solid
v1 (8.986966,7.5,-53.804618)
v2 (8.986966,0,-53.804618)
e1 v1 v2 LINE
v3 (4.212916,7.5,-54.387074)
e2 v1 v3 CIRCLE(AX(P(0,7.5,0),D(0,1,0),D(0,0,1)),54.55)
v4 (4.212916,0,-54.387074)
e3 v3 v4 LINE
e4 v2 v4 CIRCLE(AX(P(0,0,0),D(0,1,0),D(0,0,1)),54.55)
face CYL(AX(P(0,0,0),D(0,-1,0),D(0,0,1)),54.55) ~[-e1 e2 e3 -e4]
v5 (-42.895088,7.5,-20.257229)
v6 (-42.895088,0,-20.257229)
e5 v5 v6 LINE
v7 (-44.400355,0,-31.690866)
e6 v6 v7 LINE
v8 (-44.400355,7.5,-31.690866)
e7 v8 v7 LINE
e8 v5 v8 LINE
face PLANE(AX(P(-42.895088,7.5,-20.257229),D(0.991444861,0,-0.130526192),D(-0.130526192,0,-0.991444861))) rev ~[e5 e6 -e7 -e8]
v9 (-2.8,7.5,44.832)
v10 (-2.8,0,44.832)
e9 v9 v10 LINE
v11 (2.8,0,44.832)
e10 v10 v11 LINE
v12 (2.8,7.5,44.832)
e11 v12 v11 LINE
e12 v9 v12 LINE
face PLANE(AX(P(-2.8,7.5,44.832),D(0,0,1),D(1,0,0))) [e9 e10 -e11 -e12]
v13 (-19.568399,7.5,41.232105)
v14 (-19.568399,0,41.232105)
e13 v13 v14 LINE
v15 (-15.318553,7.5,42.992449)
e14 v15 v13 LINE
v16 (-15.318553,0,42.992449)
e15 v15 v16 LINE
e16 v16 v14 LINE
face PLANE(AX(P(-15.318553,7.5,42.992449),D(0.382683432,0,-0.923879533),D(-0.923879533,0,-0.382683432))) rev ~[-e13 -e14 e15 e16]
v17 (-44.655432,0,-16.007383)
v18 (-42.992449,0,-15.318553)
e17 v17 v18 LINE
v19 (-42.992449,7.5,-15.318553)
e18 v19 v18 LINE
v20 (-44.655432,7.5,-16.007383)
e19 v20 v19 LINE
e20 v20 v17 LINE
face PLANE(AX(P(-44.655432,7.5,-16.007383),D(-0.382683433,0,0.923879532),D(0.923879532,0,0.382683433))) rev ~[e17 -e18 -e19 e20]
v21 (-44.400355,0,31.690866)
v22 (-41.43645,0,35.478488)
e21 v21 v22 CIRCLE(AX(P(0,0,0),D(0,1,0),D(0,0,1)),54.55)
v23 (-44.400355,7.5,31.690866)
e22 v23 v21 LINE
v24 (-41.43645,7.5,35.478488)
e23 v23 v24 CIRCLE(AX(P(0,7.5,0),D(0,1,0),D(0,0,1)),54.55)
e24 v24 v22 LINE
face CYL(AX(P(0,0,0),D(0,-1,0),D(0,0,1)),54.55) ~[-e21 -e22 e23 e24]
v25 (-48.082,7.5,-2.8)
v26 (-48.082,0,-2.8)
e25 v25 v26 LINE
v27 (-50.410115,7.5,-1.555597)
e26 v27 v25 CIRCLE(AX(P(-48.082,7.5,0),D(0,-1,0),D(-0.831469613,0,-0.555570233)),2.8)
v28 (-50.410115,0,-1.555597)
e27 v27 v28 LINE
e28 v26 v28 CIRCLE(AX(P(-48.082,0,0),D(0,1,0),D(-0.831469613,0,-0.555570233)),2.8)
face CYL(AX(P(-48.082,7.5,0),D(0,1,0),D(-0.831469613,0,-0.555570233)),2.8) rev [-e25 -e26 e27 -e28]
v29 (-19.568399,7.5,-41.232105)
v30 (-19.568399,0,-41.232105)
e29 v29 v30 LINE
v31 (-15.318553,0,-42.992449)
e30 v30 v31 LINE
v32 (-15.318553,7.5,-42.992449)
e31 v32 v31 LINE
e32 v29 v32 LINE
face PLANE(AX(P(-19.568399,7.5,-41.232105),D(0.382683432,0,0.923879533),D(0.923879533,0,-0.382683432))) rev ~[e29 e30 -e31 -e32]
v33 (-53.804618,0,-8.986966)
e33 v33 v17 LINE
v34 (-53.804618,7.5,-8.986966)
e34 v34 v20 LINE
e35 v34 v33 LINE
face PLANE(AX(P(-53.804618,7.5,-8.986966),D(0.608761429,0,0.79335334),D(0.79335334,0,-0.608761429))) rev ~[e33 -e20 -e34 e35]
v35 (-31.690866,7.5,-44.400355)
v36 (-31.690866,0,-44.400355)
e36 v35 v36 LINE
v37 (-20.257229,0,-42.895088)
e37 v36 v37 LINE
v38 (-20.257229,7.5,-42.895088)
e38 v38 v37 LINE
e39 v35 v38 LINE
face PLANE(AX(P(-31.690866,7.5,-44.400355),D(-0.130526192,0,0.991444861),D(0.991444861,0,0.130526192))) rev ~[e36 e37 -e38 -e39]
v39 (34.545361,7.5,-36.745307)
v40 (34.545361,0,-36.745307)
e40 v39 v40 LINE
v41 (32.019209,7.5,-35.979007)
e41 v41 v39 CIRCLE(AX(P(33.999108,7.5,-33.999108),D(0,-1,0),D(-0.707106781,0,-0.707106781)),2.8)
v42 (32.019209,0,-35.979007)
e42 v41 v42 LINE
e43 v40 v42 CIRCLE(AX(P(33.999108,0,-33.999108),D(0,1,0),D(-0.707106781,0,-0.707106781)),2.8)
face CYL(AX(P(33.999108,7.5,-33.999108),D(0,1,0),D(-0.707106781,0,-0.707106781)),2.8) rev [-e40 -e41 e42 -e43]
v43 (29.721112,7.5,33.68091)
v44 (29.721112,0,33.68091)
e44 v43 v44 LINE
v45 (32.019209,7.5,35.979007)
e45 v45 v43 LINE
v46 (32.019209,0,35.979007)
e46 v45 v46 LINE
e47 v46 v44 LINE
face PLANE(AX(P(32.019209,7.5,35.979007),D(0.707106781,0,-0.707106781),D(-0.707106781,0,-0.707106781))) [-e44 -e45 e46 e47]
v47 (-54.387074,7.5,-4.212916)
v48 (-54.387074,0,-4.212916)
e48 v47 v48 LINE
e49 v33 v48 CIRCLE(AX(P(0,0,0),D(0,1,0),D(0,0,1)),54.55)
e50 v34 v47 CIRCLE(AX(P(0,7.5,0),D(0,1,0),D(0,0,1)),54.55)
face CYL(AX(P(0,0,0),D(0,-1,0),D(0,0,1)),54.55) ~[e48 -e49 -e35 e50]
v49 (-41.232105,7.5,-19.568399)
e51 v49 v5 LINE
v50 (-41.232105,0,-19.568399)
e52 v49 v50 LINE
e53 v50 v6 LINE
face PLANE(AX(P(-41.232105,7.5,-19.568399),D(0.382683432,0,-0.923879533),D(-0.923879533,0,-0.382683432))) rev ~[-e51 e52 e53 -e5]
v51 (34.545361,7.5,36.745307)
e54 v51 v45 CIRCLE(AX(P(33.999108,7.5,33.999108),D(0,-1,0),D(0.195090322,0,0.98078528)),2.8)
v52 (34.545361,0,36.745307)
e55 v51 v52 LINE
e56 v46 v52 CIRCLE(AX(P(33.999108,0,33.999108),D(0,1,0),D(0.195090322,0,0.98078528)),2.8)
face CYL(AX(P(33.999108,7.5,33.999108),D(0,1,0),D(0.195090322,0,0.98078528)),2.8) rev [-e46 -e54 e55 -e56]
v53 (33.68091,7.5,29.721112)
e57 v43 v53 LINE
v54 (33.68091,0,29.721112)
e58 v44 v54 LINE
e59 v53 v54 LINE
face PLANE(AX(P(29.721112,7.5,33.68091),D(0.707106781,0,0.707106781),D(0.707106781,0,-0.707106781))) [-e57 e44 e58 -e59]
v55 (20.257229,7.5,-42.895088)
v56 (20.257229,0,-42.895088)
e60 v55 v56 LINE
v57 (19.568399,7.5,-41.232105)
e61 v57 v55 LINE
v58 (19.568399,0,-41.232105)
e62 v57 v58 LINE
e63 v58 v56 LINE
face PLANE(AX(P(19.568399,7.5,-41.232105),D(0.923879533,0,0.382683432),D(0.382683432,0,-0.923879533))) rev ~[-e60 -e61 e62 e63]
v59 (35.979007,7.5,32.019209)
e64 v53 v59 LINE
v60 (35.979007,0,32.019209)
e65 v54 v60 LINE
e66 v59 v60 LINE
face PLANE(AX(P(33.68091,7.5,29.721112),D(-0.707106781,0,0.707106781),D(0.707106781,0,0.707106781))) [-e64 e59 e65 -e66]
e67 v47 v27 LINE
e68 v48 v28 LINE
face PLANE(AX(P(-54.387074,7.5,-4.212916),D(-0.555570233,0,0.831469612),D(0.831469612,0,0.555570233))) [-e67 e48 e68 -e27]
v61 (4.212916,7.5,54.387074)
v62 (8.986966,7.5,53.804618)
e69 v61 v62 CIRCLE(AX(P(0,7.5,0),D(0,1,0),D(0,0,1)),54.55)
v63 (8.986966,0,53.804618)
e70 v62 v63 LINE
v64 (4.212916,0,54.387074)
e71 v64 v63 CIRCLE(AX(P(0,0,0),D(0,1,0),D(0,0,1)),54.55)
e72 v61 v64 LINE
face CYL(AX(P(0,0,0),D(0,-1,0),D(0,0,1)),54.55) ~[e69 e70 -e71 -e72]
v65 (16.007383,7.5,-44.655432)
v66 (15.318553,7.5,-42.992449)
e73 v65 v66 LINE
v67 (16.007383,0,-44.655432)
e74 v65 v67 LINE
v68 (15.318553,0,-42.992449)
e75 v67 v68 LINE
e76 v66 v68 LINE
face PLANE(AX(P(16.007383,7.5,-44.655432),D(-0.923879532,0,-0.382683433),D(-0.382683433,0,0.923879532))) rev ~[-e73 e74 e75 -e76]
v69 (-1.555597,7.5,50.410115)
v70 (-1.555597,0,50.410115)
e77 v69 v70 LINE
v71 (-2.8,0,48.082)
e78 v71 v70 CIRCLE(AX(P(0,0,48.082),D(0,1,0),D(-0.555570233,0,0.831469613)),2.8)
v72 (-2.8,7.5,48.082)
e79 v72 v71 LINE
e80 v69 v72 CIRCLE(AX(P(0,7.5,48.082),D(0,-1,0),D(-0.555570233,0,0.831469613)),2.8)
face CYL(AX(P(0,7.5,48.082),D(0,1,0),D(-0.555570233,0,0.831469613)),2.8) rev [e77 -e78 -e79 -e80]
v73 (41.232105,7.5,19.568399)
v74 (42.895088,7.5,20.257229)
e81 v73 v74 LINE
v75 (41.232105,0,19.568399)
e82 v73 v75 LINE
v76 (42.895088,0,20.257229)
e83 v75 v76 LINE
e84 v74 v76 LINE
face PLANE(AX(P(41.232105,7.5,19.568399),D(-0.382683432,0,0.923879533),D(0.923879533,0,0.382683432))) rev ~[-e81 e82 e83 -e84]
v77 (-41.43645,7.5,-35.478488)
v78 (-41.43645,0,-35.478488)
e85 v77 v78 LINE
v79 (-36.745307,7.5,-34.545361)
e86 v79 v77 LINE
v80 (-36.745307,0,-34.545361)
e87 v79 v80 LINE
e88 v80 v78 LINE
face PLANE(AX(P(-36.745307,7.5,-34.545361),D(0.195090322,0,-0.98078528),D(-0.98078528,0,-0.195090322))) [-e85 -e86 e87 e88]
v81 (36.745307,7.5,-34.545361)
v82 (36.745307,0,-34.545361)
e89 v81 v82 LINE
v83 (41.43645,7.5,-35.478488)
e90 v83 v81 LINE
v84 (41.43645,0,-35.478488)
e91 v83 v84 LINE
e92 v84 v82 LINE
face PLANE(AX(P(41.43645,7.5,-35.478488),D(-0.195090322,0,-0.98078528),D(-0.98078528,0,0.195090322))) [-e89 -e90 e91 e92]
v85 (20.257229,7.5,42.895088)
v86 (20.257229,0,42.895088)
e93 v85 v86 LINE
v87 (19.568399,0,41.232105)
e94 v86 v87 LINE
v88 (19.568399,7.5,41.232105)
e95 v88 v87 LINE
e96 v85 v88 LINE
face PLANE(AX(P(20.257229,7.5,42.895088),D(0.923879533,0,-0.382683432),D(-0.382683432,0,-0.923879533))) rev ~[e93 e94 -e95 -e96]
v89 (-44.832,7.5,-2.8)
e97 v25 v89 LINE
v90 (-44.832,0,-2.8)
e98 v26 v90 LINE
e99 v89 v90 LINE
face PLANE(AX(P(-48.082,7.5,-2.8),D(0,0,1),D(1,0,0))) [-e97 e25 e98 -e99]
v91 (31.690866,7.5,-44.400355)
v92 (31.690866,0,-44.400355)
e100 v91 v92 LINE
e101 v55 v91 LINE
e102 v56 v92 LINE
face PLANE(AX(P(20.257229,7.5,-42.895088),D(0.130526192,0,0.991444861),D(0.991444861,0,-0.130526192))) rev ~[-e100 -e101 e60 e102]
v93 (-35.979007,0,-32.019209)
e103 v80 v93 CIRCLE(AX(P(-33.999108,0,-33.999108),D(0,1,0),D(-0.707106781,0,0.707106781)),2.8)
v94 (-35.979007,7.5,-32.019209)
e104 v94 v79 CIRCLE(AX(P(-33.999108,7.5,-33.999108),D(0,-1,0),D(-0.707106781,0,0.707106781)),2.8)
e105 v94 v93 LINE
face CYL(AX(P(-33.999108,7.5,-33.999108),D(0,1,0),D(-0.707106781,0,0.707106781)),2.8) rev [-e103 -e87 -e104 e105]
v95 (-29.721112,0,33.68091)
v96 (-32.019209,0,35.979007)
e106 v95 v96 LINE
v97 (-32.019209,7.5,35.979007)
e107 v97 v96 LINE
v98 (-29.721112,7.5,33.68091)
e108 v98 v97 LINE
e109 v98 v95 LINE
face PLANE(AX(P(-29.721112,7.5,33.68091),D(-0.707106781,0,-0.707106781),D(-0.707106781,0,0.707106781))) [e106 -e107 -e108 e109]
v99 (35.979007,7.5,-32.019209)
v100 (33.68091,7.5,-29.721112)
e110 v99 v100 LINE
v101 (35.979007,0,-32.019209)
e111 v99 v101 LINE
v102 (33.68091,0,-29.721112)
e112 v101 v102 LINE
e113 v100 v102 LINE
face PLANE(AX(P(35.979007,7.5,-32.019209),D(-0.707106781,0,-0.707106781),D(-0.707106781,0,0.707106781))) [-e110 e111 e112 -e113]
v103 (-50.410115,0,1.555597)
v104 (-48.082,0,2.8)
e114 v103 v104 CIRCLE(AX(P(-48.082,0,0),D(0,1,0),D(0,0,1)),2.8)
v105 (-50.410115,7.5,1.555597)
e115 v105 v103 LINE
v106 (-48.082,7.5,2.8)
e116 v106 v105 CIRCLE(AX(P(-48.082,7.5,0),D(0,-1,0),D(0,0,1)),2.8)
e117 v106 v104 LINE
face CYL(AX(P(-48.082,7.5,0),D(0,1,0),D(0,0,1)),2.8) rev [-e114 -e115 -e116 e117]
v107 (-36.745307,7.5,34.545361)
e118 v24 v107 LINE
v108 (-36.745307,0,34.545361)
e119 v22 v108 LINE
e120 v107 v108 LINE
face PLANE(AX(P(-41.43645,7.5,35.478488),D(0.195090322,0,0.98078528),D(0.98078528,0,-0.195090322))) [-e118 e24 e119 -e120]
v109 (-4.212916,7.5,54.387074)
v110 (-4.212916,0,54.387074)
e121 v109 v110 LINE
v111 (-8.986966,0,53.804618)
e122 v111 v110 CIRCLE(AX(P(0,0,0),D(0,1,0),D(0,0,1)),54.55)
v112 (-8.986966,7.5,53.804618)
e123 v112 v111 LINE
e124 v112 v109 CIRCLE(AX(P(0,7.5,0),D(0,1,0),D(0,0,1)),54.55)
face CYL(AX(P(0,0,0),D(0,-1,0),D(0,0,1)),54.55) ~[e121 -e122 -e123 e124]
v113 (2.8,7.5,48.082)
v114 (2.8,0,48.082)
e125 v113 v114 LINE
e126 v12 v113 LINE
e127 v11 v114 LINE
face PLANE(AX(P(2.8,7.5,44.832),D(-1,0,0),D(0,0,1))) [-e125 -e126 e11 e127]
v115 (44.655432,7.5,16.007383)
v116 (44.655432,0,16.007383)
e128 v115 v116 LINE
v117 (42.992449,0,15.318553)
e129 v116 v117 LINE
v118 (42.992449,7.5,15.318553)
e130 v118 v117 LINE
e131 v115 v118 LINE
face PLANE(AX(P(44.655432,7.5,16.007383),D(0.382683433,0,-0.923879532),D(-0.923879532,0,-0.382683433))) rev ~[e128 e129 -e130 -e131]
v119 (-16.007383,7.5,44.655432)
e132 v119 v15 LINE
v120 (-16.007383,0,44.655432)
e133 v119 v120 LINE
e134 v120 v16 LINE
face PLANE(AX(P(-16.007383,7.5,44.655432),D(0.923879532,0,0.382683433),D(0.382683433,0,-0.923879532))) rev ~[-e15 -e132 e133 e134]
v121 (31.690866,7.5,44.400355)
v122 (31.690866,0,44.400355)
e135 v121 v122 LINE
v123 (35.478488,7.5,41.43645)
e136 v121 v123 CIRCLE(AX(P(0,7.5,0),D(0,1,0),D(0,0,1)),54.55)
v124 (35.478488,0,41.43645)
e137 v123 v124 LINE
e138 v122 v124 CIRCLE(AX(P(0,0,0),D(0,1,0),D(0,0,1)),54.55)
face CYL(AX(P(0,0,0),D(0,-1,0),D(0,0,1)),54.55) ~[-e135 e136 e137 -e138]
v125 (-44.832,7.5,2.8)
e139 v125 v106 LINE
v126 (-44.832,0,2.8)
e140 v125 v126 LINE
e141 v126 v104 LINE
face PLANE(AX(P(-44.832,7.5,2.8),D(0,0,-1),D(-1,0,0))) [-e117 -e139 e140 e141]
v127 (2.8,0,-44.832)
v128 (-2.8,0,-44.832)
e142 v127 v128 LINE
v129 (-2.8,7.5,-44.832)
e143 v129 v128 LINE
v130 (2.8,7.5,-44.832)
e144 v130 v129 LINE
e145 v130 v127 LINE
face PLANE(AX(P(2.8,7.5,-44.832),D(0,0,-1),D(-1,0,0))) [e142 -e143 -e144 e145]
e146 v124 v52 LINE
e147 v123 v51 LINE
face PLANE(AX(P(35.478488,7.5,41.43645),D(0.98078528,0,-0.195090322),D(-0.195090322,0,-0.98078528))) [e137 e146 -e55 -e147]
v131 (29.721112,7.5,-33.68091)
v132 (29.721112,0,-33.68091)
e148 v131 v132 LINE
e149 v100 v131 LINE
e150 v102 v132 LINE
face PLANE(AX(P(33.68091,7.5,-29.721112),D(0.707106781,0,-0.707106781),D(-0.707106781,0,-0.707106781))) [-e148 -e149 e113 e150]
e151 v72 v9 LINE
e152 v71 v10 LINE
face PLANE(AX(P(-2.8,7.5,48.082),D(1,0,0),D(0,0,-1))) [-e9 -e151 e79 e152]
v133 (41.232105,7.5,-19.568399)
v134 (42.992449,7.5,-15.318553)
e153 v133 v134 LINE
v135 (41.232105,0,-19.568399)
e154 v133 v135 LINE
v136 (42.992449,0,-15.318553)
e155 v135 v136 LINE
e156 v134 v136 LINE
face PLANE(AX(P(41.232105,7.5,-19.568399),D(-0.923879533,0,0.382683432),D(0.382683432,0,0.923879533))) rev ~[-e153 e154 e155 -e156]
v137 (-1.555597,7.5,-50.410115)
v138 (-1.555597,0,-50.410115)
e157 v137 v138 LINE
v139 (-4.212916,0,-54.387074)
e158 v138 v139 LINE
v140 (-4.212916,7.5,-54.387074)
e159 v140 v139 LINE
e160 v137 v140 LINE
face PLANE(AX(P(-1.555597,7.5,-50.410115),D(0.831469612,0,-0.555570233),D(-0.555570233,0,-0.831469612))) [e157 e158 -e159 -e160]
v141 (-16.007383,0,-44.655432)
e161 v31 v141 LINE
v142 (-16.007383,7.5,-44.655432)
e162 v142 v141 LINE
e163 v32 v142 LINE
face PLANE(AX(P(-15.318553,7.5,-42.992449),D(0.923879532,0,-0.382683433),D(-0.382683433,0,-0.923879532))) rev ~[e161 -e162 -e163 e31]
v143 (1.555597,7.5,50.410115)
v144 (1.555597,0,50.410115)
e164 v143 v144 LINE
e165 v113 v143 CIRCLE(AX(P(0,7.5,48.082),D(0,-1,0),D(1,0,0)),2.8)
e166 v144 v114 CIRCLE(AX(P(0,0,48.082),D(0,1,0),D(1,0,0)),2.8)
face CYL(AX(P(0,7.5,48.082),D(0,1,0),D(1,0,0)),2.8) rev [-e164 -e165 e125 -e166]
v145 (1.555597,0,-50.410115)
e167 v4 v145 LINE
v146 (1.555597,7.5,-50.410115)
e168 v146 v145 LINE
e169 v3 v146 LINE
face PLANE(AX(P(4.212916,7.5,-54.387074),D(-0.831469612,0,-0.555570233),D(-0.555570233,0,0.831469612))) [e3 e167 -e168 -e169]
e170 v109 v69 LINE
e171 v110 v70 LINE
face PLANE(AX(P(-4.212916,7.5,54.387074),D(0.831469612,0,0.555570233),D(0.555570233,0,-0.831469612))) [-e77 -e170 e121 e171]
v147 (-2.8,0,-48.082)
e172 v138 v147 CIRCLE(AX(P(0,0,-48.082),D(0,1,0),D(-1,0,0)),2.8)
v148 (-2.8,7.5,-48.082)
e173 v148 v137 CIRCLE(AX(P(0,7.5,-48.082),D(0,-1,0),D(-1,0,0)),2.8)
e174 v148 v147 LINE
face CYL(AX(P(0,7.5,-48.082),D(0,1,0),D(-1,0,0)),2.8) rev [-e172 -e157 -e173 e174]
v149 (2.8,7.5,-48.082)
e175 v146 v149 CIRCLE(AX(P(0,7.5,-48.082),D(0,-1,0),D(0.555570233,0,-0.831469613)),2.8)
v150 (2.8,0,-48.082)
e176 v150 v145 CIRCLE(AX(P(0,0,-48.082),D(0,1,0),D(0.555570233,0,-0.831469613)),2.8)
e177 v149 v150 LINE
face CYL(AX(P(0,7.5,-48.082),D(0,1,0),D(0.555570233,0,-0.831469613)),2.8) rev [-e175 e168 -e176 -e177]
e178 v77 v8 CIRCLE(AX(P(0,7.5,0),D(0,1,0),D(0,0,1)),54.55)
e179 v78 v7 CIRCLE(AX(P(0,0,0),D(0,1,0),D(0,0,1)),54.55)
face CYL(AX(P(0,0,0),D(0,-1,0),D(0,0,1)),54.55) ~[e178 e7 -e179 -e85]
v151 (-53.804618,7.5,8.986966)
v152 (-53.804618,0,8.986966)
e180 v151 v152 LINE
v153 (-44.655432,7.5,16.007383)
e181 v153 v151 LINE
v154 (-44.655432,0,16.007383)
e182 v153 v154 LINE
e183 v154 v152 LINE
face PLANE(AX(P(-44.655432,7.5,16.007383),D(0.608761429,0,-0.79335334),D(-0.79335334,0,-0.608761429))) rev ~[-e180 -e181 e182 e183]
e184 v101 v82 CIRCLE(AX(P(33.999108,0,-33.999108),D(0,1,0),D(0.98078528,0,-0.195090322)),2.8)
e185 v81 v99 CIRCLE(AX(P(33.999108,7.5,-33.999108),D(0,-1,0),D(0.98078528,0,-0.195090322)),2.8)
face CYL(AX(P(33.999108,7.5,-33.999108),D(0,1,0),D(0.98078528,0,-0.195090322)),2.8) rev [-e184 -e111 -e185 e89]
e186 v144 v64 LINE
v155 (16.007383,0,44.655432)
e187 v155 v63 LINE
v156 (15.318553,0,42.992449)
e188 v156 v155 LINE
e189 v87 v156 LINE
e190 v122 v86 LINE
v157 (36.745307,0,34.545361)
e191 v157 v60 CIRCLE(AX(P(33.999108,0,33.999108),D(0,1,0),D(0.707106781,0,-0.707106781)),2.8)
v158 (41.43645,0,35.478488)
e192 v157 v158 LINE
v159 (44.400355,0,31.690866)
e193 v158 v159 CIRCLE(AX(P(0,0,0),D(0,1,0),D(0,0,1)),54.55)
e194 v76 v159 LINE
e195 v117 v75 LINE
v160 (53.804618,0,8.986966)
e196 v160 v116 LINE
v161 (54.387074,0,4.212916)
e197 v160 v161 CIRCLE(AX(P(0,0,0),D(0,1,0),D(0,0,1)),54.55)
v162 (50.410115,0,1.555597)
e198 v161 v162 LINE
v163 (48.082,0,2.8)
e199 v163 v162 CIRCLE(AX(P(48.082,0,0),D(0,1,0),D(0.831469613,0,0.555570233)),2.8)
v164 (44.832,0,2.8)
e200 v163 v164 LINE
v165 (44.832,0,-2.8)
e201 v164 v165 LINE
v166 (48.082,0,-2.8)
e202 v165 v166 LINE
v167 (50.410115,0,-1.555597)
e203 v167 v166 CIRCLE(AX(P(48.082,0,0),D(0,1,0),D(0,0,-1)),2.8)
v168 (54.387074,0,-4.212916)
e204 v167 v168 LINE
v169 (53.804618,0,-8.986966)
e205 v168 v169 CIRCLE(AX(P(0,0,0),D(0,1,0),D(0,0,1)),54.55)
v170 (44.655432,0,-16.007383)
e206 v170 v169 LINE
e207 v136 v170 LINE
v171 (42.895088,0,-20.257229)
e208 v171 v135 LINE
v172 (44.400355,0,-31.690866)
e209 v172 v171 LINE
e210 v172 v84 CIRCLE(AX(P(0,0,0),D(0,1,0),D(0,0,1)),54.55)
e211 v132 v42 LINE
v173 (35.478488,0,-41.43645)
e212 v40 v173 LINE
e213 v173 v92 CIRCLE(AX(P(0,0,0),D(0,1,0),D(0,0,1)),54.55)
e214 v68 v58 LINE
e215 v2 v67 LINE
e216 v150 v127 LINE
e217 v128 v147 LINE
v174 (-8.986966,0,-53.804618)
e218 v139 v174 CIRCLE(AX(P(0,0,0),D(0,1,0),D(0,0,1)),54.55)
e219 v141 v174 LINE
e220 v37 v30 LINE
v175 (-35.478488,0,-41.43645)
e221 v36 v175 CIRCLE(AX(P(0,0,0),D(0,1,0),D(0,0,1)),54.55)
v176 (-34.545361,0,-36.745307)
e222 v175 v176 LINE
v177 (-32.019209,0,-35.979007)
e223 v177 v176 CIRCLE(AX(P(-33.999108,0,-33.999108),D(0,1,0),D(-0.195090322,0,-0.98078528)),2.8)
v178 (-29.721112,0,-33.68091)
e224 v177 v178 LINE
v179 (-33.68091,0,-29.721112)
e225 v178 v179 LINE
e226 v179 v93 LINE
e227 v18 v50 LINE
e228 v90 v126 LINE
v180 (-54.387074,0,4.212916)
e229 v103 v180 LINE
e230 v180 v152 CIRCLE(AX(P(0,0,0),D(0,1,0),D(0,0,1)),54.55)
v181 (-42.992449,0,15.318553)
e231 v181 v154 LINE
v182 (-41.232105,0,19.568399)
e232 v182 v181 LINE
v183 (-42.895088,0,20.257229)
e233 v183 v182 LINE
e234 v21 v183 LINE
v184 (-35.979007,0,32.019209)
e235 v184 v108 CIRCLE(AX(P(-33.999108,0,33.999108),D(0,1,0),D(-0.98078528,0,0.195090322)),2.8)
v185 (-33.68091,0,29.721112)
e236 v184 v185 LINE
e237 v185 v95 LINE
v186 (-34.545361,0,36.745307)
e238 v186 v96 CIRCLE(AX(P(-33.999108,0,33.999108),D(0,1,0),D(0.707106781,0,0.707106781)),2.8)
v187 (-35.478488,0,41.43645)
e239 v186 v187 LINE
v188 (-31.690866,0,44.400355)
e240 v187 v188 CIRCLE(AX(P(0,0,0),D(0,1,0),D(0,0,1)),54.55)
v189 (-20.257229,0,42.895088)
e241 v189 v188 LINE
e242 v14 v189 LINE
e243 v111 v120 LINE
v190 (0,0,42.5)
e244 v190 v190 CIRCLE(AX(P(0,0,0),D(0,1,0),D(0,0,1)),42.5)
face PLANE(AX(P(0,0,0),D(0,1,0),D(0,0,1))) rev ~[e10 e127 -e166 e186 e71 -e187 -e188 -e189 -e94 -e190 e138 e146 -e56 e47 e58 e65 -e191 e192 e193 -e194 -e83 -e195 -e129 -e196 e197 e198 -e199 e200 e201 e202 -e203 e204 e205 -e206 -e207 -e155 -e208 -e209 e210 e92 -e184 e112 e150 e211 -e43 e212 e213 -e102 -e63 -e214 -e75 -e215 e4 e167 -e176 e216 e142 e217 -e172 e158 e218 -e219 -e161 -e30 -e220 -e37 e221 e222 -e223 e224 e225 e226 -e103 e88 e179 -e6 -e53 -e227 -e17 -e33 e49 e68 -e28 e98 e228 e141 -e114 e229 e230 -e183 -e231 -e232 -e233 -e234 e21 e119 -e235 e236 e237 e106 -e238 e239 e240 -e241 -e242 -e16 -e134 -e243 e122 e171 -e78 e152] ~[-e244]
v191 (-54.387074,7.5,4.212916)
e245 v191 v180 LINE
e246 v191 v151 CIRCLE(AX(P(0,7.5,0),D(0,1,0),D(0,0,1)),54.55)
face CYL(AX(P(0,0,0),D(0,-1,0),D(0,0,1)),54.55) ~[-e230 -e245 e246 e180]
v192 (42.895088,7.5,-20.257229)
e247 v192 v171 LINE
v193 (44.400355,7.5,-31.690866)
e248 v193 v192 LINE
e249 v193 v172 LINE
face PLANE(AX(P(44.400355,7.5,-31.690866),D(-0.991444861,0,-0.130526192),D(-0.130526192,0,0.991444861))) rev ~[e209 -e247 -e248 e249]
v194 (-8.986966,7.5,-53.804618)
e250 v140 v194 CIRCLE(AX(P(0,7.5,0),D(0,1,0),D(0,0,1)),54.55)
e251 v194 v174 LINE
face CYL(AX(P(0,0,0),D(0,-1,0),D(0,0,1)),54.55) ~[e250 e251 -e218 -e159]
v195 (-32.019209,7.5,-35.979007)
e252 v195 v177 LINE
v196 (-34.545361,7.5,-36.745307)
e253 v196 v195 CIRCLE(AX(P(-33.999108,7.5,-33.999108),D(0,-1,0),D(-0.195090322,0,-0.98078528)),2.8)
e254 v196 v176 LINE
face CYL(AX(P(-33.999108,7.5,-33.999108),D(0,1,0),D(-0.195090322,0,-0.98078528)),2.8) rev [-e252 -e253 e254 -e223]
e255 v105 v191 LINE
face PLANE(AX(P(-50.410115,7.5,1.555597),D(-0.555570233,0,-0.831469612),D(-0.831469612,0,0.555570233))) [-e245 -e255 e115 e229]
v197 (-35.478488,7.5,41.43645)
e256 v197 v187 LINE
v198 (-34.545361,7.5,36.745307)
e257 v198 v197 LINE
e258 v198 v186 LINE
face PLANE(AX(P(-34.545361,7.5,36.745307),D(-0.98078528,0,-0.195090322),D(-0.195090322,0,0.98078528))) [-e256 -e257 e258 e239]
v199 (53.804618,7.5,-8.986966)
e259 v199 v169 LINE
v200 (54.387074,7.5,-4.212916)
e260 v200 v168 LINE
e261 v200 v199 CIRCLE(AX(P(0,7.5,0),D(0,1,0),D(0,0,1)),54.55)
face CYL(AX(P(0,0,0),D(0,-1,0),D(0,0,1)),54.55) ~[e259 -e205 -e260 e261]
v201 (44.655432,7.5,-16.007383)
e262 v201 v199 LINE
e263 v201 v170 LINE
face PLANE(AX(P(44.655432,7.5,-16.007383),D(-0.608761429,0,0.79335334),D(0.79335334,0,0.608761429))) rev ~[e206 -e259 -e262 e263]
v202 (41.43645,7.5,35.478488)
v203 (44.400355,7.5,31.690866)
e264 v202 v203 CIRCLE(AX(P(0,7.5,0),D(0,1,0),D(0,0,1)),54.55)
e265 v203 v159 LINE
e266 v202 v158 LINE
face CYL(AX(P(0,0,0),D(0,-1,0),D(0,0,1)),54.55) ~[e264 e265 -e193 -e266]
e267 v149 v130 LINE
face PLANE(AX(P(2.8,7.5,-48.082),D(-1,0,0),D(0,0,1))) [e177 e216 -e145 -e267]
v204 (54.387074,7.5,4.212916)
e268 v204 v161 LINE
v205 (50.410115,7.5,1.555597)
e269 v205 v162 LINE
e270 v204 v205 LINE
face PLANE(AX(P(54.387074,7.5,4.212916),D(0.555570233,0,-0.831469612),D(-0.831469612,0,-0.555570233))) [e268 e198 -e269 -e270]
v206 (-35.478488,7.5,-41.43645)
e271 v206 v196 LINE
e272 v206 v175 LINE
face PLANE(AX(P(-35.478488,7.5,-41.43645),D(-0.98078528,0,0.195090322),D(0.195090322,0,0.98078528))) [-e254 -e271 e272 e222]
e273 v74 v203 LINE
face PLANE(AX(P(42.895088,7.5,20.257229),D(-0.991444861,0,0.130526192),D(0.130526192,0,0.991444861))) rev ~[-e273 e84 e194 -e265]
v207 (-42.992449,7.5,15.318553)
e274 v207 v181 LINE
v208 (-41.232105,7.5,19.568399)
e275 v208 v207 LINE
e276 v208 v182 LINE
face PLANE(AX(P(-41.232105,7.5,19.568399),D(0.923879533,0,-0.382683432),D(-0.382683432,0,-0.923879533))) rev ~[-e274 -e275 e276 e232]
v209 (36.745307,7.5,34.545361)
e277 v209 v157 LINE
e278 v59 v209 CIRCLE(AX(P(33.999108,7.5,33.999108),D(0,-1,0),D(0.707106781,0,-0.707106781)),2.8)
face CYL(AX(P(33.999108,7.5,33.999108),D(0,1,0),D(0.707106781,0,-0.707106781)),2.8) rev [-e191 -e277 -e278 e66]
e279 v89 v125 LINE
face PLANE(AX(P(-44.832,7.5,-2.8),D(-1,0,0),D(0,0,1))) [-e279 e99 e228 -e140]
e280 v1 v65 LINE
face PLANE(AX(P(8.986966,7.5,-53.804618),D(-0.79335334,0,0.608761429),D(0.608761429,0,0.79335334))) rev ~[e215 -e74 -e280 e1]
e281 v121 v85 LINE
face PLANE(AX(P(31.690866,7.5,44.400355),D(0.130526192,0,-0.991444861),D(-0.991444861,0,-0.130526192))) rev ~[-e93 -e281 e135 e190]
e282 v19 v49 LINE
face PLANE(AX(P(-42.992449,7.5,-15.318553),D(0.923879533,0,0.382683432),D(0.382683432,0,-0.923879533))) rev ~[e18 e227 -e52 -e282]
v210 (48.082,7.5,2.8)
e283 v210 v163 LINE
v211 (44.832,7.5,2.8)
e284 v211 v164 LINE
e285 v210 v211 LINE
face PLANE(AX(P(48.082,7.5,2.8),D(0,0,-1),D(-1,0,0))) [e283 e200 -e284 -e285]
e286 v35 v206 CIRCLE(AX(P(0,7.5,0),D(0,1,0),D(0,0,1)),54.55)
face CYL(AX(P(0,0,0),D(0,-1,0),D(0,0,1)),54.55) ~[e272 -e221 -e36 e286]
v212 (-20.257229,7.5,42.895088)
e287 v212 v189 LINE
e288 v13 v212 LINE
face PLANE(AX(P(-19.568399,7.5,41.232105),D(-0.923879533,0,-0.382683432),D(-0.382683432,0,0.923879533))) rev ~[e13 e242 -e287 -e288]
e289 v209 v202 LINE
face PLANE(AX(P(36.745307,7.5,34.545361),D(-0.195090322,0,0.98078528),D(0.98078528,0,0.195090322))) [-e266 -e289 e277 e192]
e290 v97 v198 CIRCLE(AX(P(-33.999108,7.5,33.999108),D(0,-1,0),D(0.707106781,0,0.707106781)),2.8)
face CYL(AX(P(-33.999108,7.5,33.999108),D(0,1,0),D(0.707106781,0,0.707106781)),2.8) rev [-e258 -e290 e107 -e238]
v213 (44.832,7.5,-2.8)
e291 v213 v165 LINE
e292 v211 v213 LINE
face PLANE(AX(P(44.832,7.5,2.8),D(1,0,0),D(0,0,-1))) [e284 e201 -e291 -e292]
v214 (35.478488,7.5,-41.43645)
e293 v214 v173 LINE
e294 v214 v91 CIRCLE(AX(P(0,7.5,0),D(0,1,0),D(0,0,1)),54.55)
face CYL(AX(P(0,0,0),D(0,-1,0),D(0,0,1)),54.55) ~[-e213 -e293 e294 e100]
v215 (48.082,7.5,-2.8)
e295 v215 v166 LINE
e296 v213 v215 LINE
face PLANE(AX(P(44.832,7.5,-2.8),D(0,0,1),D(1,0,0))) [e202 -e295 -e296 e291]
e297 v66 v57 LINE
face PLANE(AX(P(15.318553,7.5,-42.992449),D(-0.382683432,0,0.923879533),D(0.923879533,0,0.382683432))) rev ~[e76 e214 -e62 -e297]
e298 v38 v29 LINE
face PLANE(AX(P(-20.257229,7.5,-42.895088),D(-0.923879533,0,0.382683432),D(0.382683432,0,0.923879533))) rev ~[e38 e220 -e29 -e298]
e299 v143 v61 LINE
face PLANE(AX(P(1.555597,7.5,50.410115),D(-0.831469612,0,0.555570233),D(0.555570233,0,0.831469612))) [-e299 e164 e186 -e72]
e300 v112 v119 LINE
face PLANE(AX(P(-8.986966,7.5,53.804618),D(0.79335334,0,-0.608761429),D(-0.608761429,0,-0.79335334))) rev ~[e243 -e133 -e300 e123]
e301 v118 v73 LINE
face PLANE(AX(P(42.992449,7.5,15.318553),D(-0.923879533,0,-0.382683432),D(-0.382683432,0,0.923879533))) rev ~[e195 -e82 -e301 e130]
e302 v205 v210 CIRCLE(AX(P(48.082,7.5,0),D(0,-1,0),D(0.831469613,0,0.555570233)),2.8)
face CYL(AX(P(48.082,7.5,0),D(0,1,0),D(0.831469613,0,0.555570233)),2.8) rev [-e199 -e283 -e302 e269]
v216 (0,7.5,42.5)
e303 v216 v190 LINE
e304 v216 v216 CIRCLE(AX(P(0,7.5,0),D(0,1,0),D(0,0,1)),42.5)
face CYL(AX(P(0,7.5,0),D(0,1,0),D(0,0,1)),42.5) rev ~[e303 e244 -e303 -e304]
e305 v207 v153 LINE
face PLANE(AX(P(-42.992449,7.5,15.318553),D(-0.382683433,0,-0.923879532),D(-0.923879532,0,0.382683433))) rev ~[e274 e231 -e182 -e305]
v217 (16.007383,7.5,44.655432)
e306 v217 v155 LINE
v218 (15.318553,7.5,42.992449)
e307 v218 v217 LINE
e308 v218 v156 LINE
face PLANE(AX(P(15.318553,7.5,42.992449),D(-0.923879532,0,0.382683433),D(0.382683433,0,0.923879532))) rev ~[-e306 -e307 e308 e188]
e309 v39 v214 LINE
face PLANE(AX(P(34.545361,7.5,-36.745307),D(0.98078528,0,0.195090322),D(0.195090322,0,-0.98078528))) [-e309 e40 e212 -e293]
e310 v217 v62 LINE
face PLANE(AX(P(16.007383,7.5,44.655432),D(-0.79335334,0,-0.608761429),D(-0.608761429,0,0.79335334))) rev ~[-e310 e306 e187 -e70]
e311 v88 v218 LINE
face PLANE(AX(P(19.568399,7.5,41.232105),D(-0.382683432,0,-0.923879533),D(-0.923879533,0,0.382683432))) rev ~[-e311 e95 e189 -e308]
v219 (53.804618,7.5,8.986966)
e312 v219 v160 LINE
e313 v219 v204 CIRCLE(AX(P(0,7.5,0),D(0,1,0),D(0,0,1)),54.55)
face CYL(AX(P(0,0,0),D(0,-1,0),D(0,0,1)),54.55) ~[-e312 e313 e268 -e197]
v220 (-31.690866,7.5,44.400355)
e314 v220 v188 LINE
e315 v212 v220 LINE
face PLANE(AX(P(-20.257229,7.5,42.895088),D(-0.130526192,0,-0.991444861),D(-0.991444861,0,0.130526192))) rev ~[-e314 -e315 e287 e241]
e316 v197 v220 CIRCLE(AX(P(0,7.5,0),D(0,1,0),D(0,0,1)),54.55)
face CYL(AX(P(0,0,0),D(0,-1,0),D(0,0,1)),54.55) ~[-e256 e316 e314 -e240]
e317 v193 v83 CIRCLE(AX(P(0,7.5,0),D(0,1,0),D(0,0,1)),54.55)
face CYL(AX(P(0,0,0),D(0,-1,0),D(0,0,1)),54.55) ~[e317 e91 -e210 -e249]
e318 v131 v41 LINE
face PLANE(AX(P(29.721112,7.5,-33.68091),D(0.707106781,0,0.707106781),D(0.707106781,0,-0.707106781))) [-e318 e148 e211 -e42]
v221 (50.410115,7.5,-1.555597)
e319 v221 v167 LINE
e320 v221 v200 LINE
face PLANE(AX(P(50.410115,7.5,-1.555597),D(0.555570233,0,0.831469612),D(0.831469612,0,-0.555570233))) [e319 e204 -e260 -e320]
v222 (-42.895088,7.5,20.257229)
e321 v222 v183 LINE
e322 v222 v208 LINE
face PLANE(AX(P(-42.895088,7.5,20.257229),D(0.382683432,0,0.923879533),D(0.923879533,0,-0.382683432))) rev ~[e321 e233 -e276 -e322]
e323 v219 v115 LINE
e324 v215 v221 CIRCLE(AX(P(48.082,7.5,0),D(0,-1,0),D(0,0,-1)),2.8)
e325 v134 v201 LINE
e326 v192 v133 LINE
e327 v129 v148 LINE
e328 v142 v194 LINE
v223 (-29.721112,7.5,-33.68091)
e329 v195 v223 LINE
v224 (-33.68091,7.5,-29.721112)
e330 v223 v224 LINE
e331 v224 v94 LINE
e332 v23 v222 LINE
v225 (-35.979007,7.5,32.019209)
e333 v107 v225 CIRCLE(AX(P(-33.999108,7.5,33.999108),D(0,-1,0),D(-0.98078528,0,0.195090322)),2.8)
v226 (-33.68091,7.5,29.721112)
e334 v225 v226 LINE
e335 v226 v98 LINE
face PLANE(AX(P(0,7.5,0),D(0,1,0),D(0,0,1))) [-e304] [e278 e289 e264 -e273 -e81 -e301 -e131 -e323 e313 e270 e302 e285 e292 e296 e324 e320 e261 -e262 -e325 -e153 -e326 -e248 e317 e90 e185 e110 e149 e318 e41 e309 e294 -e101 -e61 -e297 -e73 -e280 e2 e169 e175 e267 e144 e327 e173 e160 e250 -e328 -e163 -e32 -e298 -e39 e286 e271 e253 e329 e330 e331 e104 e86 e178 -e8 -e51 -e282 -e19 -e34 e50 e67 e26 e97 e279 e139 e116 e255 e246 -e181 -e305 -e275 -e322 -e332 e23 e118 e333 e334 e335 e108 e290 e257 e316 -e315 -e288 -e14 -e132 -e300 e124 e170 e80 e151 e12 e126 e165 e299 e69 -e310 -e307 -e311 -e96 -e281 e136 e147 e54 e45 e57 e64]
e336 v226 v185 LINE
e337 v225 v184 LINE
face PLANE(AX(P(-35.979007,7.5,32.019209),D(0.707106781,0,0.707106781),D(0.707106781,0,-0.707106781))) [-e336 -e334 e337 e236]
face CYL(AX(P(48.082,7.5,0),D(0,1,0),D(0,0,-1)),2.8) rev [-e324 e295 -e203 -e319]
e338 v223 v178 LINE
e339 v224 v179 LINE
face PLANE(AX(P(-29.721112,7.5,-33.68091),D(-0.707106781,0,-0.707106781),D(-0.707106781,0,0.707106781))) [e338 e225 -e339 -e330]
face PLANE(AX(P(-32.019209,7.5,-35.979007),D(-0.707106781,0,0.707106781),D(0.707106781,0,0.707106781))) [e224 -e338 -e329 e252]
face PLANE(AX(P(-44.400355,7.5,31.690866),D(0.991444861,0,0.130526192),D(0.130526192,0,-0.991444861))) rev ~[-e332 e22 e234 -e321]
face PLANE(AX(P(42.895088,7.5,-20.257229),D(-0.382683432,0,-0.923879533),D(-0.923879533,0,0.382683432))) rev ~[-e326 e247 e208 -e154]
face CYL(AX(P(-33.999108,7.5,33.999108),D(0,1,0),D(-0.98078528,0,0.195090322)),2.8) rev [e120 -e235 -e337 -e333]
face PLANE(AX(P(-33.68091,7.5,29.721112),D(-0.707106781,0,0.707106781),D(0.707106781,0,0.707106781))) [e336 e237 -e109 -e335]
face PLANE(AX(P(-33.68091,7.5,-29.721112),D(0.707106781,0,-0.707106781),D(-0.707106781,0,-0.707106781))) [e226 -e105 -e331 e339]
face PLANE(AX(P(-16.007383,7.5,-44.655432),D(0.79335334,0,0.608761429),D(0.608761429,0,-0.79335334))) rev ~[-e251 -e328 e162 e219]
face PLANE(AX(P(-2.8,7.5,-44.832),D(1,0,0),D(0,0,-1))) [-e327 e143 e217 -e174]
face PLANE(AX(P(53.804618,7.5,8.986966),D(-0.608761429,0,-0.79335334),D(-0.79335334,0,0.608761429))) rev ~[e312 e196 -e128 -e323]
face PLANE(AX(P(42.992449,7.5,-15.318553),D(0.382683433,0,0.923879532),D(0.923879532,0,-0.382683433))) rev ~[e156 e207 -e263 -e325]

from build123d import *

# Parameters (mm, degrees)
SKETCH1_R           = 54.55
BOSS_EXTRUDE1_DEPTH = 7.5
SKETCH2_R           = 42.5
CUT_EXTRUDE1_DEPTH  = 78.509063986
CUT_EXTRUDE2_DEPTH  = 78.509063986
CUT_EXTRUDE6_DEPTH  = 78.509063986
CIRPATTERN1_COUNT   = 8
CIRPATTERN2_COUNT   = 8


with BuildPart() as part:
    # Sketch1 → Boss-Extrude1 (new body)
    with BuildSketch(Plane(origin=(0, 0, 0), x_dir=(1, 0, 0), z_dir=(0, 1, 0))):
        Circle(SKETCH1_R)
    extrude(amount=BOSS_EXTRUDE1_DEPTH)

    # Sketch2 → Cut-Extrude1 (cut, through all)
    with BuildSketch(Plane(origin=(0, 7.5, 0), x_dir=(1, 0, 0), z_dir=(0, 1, 0))):
        Circle(SKETCH2_R)
    extrude(amount=-CUT_EXTRUDE1_DEPTH, mode=Mode.SUBTRACT)

    # Sketch3 → Cut-Extrude2 (cut, through all)
    with BuildSketch(Plane(origin=(0, 7.5, 0), x_dir=(1, 0, 0), z_dir=(0, 1, 0))):
        with BuildLine():
            Line((-2.8, -48.082), (-2.8, -44.832))
            Line((-2.8, -44.832), (2.8, -44.832))
            Line((2.8, -44.832), (2.8, -48.082))
            ThreePointArc((2.8, -48.082), (2.46937954, -49.401910863), (1.555596652, -50.410114914))
            Line((1.555596652, -50.410114914), (4.212915889, -54.387074197))
            ThreePointArc((4.212915889, -54.387074197), (0, -54.55), (-4.212915889, -54.387074197))
            Line((-4.212915889, -54.387074197), (-1.555596652, -50.410114914))
            ThreePointArc((-1.555596652, -50.410114914), (-2.46937954, -49.401910863), (-2.8, -48.082))
        make_face()
    cut_extrude2 = extrude(amount=-CUT_EXTRUDE2_DEPTH, mode=Mode.SUBTRACT)

    # Sketch9 → Cut-Extrude6 (cut, through all)
    with BuildSketch(Plane(origin=(0, 7.5, 0), x_dir=(1, 0, 0), z_dir=(0, 1, 0))):
        with BuildLine():
            Line((-20.257229317, -42.895088115), (-31.690865911, -44.400354929))
            ThreePointArc((-31.690865911, -44.400354929), (-20.875381236, -50.397628498), (-8.98696587, -53.804618245))
            Line((-8.98696587, -53.804618245), (-16.007383468, -44.655431904))
            Line((-16.007383468, -44.655431904), (-15.318553289, -42.992448745))
            Line((-15.318553289, -42.992448745), (-19.568399139, -41.232104956))
            Line((-19.568399139, -41.232104956), (-20.257229317, -42.895088115))
        make_face()
    cut_extrude6 = extrude(amount=-CUT_EXTRUDE6_DEPTH, mode=Mode.SUBTRACT)

    # CirPattern1: Cut-Extrude2 ×8 about axis
    cirpattern1_axis = Axis((0, 10.872185225, 0), (0, -1, 0))
    for i in range(1, CIRPATTERN1_COUNT):
        add(cut_extrude2.rotate(cirpattern1_axis, i * 360 / CIRPATTERN1_COUNT), mode=Mode.SUBTRACT)

    # CirPattern2: Cut-Extrude6 ×8 about axis
    cirpattern2_axis = Axis((0, 10.872185225, 0), (0, -1, 0))
    for i in range(1, CIRPATTERN2_COUNT):
        add(cut_extrude6.rotate(cirpattern2_axis, i * 360 / CIRPATTERN2_COUNT), mode=Mode.SUBTRACT)


solid = part.part
